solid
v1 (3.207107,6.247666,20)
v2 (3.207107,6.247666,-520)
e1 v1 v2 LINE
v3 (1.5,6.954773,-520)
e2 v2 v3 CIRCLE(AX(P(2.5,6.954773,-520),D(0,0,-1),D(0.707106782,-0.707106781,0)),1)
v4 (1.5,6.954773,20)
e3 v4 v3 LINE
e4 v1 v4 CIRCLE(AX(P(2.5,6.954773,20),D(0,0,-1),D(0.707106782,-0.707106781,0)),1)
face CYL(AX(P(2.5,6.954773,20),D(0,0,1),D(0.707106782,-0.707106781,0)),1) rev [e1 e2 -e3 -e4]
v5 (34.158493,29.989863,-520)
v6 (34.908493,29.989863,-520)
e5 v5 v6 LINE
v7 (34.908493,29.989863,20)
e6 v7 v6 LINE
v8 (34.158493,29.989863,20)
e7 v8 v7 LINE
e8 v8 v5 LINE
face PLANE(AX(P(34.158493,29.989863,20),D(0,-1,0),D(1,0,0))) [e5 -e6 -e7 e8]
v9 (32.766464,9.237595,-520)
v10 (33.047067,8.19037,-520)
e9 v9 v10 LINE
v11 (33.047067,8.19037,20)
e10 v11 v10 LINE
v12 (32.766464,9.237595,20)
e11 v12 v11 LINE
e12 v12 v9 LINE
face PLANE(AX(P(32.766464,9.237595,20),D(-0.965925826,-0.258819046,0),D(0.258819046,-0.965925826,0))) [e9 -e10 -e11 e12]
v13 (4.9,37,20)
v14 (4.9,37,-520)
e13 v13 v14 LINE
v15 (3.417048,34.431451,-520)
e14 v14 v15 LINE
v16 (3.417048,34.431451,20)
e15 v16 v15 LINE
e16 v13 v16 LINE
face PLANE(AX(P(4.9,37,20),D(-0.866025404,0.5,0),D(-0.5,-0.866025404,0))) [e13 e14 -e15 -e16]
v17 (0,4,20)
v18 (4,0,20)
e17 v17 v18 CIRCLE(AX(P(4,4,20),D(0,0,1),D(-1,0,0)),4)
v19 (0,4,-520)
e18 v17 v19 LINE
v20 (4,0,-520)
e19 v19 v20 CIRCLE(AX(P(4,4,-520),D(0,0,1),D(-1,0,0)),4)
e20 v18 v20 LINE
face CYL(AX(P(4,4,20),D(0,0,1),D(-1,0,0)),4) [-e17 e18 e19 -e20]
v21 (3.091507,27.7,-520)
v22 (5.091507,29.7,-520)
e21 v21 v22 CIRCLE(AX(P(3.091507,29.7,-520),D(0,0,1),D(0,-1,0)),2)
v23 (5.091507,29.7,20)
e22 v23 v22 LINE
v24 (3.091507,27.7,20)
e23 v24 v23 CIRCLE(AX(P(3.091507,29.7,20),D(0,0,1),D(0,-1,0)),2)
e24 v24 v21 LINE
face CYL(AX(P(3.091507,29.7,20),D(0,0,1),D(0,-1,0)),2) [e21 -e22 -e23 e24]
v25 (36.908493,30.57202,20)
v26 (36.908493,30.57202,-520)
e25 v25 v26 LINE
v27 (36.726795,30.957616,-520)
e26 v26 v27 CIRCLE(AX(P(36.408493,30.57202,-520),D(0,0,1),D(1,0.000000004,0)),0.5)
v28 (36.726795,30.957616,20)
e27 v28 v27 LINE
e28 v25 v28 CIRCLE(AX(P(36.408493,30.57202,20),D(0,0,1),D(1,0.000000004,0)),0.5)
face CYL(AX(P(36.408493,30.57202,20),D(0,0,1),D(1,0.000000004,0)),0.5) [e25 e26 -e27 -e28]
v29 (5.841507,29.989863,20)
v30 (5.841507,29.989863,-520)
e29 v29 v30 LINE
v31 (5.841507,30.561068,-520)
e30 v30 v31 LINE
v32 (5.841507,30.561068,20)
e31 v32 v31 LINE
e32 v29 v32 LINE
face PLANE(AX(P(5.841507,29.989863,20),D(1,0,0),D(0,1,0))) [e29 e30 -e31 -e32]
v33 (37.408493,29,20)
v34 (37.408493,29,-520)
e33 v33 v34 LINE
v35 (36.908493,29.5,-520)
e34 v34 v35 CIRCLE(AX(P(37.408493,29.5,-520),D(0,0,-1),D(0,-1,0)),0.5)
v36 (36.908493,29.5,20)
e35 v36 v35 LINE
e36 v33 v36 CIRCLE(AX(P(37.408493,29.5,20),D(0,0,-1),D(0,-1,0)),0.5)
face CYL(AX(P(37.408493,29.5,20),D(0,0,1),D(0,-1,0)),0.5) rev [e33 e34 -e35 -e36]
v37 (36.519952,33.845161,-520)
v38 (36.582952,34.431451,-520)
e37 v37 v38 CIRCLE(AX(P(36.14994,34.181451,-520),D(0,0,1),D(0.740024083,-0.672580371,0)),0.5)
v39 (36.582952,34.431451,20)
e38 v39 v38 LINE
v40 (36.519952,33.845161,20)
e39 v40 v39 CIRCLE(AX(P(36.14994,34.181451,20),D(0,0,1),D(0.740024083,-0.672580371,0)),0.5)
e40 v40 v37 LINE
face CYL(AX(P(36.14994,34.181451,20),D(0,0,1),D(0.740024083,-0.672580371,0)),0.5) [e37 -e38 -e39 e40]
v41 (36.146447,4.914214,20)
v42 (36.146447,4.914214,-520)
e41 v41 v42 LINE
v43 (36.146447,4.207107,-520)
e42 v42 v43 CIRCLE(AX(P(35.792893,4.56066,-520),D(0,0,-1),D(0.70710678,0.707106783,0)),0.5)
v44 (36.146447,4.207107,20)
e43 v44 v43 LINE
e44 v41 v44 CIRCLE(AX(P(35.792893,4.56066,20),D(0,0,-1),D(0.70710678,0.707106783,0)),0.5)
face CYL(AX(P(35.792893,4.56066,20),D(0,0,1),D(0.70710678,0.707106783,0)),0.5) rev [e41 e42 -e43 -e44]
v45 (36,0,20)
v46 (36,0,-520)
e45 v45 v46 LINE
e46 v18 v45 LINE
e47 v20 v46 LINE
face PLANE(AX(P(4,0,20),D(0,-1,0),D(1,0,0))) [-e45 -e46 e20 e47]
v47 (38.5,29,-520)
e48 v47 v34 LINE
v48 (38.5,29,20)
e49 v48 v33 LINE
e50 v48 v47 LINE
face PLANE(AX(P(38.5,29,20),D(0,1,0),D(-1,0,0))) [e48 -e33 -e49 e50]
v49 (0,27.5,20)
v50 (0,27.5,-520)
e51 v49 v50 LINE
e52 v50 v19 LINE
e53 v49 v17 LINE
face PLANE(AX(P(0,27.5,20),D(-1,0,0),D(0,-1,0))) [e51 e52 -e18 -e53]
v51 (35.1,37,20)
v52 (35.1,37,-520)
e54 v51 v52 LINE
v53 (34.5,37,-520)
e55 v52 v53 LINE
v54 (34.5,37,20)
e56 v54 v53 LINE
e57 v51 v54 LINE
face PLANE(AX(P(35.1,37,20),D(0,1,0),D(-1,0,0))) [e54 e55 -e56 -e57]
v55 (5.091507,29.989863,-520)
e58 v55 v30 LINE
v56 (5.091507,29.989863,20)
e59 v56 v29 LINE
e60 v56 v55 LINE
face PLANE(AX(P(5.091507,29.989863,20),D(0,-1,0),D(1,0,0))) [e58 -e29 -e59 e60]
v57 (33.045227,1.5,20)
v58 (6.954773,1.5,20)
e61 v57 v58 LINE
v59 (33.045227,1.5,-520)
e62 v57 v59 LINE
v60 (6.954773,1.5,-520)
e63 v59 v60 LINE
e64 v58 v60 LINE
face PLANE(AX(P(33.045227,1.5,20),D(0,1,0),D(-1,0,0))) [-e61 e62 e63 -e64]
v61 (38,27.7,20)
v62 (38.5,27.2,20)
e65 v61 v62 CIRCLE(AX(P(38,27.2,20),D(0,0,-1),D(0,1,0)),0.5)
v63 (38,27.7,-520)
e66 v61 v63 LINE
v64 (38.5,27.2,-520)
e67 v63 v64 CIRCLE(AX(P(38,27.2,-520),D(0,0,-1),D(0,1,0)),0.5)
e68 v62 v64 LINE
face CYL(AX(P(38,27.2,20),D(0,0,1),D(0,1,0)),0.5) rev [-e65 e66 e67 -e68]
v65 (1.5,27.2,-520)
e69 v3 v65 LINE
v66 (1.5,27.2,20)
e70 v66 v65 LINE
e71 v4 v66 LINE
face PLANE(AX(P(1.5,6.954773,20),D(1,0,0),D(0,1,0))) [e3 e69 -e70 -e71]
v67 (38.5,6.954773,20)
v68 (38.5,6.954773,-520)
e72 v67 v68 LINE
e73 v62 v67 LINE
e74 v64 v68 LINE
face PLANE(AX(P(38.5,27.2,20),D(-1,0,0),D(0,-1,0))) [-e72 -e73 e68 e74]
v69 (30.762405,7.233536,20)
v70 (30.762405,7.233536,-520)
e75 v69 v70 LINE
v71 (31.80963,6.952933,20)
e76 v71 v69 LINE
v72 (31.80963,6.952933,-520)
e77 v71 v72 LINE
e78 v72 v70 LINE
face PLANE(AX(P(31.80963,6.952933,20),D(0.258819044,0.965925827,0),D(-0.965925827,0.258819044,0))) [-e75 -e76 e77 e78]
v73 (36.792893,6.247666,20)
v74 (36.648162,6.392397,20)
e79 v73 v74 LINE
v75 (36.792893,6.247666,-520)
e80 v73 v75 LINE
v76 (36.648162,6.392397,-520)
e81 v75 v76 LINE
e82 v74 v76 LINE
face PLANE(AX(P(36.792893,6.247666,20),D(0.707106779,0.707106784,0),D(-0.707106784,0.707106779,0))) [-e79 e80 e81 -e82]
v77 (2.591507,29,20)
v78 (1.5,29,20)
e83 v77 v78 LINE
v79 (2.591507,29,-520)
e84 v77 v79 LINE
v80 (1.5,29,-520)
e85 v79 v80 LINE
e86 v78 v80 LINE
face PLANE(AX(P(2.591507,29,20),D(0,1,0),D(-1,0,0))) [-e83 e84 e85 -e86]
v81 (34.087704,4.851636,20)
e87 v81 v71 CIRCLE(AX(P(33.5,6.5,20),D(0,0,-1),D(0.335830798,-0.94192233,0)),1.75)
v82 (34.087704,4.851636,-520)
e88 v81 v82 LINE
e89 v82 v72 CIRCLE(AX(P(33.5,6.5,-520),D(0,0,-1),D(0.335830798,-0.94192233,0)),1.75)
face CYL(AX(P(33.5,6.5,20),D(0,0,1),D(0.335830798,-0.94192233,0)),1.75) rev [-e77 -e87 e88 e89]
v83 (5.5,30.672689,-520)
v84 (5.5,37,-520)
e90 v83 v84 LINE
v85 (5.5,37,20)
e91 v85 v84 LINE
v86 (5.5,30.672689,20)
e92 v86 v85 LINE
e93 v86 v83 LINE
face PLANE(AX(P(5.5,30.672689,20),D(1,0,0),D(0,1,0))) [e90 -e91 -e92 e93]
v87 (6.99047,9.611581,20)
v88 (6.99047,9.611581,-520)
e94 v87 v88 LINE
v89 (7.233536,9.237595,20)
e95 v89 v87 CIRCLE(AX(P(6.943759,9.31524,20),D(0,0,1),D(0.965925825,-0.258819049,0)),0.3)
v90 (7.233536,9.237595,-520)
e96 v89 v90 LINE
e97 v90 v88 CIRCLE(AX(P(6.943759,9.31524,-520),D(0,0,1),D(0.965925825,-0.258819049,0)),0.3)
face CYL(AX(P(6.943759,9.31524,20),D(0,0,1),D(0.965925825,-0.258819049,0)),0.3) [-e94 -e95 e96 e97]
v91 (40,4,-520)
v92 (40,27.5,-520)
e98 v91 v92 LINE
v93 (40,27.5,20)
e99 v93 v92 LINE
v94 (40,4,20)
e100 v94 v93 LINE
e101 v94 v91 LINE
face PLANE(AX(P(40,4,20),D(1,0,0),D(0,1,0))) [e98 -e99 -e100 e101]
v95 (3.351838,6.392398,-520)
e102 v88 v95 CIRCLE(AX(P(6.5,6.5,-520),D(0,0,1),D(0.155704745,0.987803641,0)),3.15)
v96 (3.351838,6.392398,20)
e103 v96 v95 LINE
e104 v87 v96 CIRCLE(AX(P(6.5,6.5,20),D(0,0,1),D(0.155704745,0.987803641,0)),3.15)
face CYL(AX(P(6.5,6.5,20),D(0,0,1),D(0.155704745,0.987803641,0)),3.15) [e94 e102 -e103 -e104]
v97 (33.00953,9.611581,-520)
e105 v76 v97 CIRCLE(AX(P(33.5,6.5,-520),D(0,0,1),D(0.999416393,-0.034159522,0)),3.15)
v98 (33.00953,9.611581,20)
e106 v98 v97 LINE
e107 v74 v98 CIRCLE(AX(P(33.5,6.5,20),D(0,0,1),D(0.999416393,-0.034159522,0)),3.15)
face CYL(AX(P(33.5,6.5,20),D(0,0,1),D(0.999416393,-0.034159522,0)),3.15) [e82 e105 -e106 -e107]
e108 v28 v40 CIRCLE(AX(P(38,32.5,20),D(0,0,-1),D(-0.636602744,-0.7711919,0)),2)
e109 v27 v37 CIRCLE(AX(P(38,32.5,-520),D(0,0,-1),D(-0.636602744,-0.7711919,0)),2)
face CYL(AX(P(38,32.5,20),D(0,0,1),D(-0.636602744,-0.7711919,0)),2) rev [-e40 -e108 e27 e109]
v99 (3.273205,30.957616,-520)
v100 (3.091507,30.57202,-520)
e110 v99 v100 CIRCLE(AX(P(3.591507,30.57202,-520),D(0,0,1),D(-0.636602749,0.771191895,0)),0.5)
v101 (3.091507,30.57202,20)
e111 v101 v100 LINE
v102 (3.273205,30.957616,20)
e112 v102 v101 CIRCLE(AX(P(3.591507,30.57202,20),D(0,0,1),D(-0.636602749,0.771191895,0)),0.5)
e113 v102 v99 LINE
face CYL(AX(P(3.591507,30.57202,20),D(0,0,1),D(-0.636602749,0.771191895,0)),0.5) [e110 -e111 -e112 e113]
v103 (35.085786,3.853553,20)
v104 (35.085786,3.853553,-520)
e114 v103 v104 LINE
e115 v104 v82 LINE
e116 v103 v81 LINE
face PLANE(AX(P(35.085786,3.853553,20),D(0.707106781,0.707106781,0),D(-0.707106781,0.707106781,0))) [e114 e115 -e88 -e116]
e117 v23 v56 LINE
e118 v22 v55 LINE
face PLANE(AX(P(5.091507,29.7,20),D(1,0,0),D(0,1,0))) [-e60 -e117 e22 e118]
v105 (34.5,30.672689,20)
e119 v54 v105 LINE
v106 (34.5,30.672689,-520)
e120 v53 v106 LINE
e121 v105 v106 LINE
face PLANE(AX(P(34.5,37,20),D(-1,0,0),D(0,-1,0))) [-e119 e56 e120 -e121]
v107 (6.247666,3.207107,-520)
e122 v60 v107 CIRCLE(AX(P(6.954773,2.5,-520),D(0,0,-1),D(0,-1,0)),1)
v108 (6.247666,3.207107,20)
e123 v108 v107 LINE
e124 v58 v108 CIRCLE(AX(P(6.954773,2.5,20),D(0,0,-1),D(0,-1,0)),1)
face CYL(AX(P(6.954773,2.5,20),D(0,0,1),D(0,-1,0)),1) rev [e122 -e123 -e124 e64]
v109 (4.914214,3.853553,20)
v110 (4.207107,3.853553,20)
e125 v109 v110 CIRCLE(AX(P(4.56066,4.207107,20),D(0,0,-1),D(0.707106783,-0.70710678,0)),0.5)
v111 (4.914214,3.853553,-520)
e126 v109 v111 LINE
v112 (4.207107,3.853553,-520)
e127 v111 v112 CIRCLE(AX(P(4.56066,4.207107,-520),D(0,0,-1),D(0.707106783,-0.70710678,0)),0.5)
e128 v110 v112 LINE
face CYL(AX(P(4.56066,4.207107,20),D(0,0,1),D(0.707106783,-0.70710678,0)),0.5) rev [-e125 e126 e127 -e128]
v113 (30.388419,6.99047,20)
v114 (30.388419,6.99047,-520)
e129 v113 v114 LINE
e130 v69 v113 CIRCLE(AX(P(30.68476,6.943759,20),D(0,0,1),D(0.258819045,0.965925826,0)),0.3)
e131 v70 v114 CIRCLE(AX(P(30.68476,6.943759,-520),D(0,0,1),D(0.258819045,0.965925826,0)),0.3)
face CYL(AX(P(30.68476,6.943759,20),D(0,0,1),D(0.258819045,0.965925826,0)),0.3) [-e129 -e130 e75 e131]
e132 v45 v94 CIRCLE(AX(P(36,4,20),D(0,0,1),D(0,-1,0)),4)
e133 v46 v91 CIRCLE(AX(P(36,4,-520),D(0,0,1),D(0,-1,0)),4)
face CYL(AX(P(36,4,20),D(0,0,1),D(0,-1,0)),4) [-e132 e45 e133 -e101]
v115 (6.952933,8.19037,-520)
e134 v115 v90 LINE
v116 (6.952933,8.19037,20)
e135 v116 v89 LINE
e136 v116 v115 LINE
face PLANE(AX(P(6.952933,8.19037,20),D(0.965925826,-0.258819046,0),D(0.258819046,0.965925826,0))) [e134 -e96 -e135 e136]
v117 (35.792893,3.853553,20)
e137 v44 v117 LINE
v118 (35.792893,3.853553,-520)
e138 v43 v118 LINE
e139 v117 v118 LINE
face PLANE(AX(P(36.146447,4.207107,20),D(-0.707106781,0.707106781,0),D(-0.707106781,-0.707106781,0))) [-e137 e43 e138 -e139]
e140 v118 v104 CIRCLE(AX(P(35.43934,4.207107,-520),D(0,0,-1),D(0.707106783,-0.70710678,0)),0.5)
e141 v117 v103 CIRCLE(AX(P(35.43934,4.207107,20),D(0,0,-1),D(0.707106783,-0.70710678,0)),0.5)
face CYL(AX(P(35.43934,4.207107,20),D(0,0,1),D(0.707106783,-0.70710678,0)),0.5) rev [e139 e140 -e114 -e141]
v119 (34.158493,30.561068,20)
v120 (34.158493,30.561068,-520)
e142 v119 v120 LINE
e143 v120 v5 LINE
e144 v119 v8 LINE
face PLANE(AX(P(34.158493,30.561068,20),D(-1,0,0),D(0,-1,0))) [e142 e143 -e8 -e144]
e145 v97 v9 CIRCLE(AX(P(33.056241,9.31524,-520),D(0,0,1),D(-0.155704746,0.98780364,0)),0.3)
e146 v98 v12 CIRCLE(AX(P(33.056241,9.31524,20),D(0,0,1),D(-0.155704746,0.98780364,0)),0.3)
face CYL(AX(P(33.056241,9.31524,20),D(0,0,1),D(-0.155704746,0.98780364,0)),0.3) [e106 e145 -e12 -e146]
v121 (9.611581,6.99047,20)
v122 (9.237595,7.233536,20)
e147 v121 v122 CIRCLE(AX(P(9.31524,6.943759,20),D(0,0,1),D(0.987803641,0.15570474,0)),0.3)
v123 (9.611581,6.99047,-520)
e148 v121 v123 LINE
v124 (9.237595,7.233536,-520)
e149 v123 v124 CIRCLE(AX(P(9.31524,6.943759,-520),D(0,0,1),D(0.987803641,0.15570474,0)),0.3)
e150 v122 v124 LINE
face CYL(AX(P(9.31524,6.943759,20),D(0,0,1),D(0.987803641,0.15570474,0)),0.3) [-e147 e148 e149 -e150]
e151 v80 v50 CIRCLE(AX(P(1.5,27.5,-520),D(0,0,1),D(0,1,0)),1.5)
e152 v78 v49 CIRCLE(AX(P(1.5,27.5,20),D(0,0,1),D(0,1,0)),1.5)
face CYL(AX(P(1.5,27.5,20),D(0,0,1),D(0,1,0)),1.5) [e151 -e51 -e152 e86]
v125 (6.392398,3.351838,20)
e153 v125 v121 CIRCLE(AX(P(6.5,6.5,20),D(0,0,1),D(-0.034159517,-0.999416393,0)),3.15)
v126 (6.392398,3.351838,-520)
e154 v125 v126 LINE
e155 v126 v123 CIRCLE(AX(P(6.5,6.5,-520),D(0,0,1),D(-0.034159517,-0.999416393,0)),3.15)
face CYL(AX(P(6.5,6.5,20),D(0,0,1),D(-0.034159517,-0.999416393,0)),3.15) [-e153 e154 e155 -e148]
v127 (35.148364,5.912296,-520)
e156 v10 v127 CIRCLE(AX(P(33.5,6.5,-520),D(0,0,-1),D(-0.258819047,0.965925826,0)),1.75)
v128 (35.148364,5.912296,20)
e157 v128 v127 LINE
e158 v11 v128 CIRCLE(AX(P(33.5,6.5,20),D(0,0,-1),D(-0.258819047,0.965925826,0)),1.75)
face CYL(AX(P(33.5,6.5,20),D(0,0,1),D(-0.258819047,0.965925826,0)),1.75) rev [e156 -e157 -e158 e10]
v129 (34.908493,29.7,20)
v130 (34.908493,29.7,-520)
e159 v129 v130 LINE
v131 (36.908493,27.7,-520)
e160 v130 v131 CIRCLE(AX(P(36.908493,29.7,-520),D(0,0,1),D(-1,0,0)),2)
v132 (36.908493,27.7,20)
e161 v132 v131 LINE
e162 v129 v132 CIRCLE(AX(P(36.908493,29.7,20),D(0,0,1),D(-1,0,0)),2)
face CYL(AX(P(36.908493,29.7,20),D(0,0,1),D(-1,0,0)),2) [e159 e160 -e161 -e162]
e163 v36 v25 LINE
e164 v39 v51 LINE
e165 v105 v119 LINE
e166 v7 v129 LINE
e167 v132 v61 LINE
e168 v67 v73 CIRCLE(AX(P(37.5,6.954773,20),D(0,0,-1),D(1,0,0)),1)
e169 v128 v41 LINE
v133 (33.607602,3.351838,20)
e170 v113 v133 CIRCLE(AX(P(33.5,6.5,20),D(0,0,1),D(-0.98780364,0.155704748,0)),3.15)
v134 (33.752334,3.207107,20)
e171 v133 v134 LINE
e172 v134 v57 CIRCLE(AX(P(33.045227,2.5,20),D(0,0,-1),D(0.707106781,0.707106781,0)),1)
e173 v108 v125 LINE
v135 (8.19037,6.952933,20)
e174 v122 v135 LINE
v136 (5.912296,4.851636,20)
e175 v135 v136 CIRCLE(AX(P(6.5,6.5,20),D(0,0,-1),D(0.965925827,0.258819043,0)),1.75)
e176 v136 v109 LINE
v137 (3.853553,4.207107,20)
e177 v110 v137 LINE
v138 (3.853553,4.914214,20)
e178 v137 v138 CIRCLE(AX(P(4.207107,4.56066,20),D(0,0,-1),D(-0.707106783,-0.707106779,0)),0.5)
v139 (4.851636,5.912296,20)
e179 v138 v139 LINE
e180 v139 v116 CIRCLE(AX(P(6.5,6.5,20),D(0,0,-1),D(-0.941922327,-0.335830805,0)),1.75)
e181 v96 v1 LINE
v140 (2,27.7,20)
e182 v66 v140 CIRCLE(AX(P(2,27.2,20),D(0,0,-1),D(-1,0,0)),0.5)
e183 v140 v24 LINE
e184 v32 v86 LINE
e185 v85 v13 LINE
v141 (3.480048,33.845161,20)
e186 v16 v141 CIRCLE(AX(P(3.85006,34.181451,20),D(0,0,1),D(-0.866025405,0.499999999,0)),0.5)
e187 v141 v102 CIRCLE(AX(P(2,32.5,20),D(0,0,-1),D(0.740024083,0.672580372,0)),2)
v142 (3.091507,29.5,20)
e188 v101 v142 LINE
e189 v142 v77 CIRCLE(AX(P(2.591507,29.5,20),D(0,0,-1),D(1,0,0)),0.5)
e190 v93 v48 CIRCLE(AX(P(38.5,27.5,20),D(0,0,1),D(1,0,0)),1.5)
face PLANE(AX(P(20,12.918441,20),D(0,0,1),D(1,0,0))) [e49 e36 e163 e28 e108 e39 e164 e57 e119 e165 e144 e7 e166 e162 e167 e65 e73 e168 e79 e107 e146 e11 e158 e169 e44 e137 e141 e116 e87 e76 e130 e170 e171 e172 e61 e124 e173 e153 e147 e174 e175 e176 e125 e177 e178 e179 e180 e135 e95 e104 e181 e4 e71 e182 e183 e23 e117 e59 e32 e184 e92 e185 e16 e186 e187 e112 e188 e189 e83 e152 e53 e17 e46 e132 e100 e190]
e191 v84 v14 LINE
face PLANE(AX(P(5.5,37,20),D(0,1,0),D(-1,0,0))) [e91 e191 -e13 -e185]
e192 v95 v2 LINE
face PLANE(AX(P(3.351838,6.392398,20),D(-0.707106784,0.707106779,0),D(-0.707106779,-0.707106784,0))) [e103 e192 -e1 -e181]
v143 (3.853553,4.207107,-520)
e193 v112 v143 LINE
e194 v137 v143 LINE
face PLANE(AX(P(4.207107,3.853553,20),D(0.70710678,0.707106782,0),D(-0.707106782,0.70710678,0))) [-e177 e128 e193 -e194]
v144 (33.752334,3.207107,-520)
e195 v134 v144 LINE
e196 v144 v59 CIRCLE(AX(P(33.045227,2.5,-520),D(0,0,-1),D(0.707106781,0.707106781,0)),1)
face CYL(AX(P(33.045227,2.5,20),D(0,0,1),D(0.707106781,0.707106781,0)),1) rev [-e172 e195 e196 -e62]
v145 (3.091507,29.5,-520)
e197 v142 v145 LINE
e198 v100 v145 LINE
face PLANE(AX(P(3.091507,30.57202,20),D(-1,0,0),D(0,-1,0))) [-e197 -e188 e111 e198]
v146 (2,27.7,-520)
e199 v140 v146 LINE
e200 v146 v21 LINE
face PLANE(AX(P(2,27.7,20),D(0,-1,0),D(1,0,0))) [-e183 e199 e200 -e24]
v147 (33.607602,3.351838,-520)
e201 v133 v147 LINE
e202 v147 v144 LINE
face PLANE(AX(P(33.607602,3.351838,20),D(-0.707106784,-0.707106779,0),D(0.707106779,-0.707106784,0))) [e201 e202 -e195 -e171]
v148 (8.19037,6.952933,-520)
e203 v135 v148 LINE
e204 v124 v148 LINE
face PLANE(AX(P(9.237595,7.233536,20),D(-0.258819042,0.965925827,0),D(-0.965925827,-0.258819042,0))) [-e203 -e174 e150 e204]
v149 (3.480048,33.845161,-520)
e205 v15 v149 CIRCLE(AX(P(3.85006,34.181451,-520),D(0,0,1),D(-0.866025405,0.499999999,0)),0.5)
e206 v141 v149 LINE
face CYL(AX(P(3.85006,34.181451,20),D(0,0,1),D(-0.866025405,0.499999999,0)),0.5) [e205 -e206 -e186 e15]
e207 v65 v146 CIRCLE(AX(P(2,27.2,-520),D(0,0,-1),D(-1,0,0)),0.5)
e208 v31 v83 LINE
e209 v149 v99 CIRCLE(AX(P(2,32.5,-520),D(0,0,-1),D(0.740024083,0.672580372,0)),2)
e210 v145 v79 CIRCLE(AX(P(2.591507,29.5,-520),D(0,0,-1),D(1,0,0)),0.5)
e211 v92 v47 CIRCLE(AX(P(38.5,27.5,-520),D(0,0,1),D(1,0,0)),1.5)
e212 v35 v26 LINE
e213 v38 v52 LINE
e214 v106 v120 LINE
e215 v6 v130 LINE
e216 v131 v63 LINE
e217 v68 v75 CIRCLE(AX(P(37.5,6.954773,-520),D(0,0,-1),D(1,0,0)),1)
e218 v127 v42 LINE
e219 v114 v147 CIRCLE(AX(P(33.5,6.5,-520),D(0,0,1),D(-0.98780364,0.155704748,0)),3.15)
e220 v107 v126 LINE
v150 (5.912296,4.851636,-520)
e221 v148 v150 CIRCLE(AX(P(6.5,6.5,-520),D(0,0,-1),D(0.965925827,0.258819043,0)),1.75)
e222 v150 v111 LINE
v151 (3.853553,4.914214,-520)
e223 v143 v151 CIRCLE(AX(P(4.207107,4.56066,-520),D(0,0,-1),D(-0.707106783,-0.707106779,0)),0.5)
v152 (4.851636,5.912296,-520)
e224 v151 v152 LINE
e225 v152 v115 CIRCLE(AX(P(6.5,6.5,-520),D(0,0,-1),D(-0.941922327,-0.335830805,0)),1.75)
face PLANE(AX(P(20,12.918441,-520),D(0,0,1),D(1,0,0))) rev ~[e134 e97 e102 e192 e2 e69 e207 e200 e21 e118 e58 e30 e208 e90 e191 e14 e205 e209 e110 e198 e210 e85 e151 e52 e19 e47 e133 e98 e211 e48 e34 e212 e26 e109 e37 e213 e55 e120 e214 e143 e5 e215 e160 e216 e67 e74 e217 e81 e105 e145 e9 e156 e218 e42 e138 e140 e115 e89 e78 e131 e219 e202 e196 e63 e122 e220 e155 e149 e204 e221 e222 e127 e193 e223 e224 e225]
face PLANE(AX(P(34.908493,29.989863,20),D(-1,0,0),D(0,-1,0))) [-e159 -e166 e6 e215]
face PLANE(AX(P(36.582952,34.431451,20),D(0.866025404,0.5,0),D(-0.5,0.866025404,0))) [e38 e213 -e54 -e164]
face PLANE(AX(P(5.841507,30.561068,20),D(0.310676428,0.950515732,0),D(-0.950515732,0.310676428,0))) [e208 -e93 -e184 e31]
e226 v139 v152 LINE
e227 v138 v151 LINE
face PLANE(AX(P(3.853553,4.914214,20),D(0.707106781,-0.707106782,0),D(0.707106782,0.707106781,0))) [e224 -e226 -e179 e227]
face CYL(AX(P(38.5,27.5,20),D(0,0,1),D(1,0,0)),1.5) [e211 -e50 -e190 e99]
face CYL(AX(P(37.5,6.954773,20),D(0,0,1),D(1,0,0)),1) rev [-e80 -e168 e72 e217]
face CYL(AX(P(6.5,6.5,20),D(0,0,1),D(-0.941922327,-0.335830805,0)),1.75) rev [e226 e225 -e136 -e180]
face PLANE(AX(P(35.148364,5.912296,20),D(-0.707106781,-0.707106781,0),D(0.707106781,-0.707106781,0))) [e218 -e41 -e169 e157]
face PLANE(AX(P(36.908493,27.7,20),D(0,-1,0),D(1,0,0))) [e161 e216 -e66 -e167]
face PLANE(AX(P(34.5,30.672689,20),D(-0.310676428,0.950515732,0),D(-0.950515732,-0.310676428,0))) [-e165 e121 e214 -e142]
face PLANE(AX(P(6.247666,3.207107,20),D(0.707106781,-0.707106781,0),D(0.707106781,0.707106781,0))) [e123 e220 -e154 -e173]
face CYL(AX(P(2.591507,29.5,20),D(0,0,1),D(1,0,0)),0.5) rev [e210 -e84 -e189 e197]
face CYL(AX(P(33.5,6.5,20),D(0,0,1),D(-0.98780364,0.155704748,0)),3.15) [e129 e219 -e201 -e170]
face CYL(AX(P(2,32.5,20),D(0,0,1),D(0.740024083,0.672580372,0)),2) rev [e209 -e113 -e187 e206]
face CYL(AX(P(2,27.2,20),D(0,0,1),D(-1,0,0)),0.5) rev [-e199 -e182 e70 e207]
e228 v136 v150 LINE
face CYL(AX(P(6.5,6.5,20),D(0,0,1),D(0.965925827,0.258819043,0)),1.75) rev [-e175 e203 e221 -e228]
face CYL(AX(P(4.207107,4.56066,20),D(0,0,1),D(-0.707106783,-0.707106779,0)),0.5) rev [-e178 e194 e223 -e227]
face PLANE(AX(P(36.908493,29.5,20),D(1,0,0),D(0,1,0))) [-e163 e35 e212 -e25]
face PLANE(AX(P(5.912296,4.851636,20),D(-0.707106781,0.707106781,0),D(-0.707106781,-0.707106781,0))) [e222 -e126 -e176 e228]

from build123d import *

# Parameters (mm, degrees)
BOSS_EXTRUDE1_DEPTH = 540


with BuildPart() as part:
    # Sketch1 → Boss-Extrude1 (new body)
    with BuildSketch(Plane.XY.offset(20)):
        with BuildLine():
            Line((4, 0), (36, 0))
            ThreePointArc((36, 0), (38.828427125, 1.171572875), (40, 4))
            Line((40, 4), (40, 27.499999994))
            ThreePointArc((40, 27.499999994), (39.56066017, 28.56066017), (38.499999994, 29))
            Line((38.499999994, 29), (37.408493132, 29))
            ThreePointArc((37.408493132, 29), (37.05493974, 29.14644661), (36.90849313, 29.500000002))
            Line((36.90849313, 29.500000002), (36.90849313, 30.572020267))
            ThreePointArc((36.90849313, 30.572020267), (36.86079319, 30.785150869), (36.726794508, 30.957616203))
            ThreePointArc((36.726794508, 30.957616203), (36.005111578, 32.357100716), (36.519951827, 33.845160752))
            ThreePointArc((36.519951827, 33.845160752), (36.647077826, 34.128030253), (36.582952488, 34.431450944))
            Line((36.582952488, 34.431450944), (35.099999998, 37.000000001))
            Line((35.099999998, 37.000000001), (34.500000002, 37.000000001))
            Line((34.500000002, 37.000000001), (34.500000002, 30.672689193))
            Line((34.500000002, 30.672689193), (34.158493132, 30.561067543))
            Line((34.158493132, 30.561067543), (34.158493132, 29.989862813))
            Line((34.158493132, 29.989862813), (34.908493132, 29.989862813))
            Line((34.908493132, 29.989862813), (34.908493132, 29.700000011))
            ThreePointArc((34.908493132, 29.700000011), (35.494279572, 28.285786443), (36.908493141, 27.700000003))
            Line((36.908493141, 27.700000003), (38.000000017, 27.700000003))
            ThreePointArc((38.000000017, 27.700000003), (38.353553409, 27.553553393), (38.500000019, 27.200000001))
            Line((38.500000019, 27.200000001), (38.500000019, 6.9547727))
            ThreePointArc((38.500000019, 6.9547727), (37.882683451, 6.030893167), (36.792893237, 6.247665919))
            Line((36.792893237, 6.247665919), (36.648161659, 6.392397496))
            ThreePointArc((36.648161659, 6.392397496), (35.587251229, 8.859212237), (33.009530056, 9.611581471))
            ThreePointArc((33.009530056, 9.611581471), (32.804700675, 9.478725012), (32.766463725, 9.237594653))
            Line((32.766463725, 9.237594653), (33.047066675, 8.190370192))
            ThreePointArc((33.047066675, 8.190370192), (34.786339421, 7.686520507), (35.148364083, 5.912296075))
            Line((35.148364083, 5.912296075), (36.146446608, 4.91421355))
            ThreePointArc((36.146446608, 4.91421355), (36.292893217, 4.560660161), (36.146446608, 4.207106773))
            Line((36.146446608, 4.207106773), (35.792893214, 3.853553379))
            ThreePointArc((35.792893214, 3.853553379), (35.439339826, 3.70710677), (35.085786437, 3.853553379))
            Line((35.085786437, 3.853553379), (34.087703906, 4.85163591))
            ThreePointArc((34.087703906, 4.85163591), (32.313479487, 5.213660585), (31.809629807, 6.952933321))
            Line((31.809629807, 6.952933321), (30.762405333, 7.233536272))
            ThreePointArc((30.762405333, 7.233536272), (30.521274984, 7.195299323), (30.38841853, 6.990469949))
            ThreePointArc((30.38841853, 6.990469949), (31.140787752, 4.412748784), (33.607602477, 3.351838341))
            Line((33.607602477, 3.351838341), (33.752334032, 3.207106785))
            ThreePointArc((33.752334032, 3.207106785), (33.969106782, 2.117316579), (33.045227255, 1.500000015))
            Line((33.045227255, 1.500000015), (6.954772716, 1.500000015))
            ThreePointArc((6.954772716, 1.500000015), (6.030893183, 2.117316583), (6.247665934, 3.207106797))
            Line((6.247665934, 3.207106797), (6.392397512, 3.351838375))
            ThreePointArc((6.392397512, 3.351838375), (8.859212224, 4.412748803), (9.611581449, 6.990469949))
            ThreePointArc((9.611581449, 6.990469949), (9.478724996, 7.195299323), (9.237594646, 7.233536272))
            Line((9.237594646, 7.233536272), (8.190370187, 6.952933328))
            ThreePointArc((8.190370187, 6.952933328), (7.686520502, 5.213660596), (5.912296085, 4.851635932))
            Line((5.912296085, 4.851635932), (4.914213553, 3.8535534))
            ThreePointArc((4.914213553, 3.8535534), (4.560660164, 3.707106791), (4.207106776, 3.8535534))
            Line((4.207106776, 3.8535534), (3.853553388, 4.207106787))
            ThreePointArc((3.853553388, 4.207106787), (3.70710678, 4.560660175), (3.853553388, 4.914213564))
            Line((3.853553388, 4.914213564), (4.85163592, 5.912296095))
            ThreePointArc((4.85163592, 5.912296095), (5.213660585, 7.686520517), (6.952933322, 8.190370198))
            Line((6.952933322, 8.190370198), (7.233536268, 9.237594644))
            ThreePointArc((7.233536268, 9.237594644), (7.195299318, 9.478725003), (6.990469936, 9.611581462))
            ThreePointArc((6.990469936, 9.611581462), (4.412748785, 8.859212233), (3.351838362, 6.392397513))
            Line((3.351838362, 6.392397513), (3.207106785, 6.247665935))
            ThreePointArc((3.207106785, 6.247665935), (2.11731657, 6.030893183), (1.500000002, 6.954772717))
            Line((1.500000002, 6.954772717), (1.500000002, 27.200000001))
            ThreePointArc((1.500000002, 27.200000001), (1.646446612, 27.553553393), (2.000000004, 27.700000003))
            Line((2.000000004, 27.700000003), (3.091506864, 27.700000003))
            ThreePointArc((3.091506864, 27.700000003), (4.505720432, 28.285786443), (5.091506872, 29.700000011))
            Line((5.091506872, 29.700000011), (5.091506872, 29.989862813))
            Line((5.091506872, 29.989862813), (5.841506868, 29.989862813))
            Line((5.841506868, 29.989862813), (5.841506868, 30.561067541))
            Line((5.841506868, 30.561067541), (5.499999998, 30.672689191))
            Line((5.499999998, 30.672689191), (5.499999998, 37.000000001))
            Line((5.499999998, 37.000000001), (4.899999998, 37.000000001))
            Line((4.899999998, 37.000000001), (3.417047508, 34.431450944))
            ThreePointArc((3.417047508, 34.431450944), (3.35292217, 34.128030253), (3.480048169, 33.845160751))
            ThreePointArc((3.480048169, 33.845160751), (3.99488842, 32.357100716), (3.273205491, 30.957616203))
            ThreePointArc((3.273205491, 30.957616203), (3.13920681, 30.785150869), (3.09150687, 30.572020267))
            Line((3.09150687, 30.572020267), (3.09150687, 29.500000002))
            ThreePointArc((3.09150687, 29.500000002), (2.94506026, 29.14644661), (2.591506868, 29))
            Line((2.591506868, 29), (1.500000006, 29))
            ThreePointArc((1.500000006, 29), (0.43933983, 28.56066017), (0, 27.499999994))
            Line((0, 27.499999994), (0, 4))
            ThreePointArc((0, 4), (1.171572875, 1.171572875), (4, 0))
        make_face()
    extrude(amount=-BOSS_EXTRUDE1_DEPTH)


solid = part.part
